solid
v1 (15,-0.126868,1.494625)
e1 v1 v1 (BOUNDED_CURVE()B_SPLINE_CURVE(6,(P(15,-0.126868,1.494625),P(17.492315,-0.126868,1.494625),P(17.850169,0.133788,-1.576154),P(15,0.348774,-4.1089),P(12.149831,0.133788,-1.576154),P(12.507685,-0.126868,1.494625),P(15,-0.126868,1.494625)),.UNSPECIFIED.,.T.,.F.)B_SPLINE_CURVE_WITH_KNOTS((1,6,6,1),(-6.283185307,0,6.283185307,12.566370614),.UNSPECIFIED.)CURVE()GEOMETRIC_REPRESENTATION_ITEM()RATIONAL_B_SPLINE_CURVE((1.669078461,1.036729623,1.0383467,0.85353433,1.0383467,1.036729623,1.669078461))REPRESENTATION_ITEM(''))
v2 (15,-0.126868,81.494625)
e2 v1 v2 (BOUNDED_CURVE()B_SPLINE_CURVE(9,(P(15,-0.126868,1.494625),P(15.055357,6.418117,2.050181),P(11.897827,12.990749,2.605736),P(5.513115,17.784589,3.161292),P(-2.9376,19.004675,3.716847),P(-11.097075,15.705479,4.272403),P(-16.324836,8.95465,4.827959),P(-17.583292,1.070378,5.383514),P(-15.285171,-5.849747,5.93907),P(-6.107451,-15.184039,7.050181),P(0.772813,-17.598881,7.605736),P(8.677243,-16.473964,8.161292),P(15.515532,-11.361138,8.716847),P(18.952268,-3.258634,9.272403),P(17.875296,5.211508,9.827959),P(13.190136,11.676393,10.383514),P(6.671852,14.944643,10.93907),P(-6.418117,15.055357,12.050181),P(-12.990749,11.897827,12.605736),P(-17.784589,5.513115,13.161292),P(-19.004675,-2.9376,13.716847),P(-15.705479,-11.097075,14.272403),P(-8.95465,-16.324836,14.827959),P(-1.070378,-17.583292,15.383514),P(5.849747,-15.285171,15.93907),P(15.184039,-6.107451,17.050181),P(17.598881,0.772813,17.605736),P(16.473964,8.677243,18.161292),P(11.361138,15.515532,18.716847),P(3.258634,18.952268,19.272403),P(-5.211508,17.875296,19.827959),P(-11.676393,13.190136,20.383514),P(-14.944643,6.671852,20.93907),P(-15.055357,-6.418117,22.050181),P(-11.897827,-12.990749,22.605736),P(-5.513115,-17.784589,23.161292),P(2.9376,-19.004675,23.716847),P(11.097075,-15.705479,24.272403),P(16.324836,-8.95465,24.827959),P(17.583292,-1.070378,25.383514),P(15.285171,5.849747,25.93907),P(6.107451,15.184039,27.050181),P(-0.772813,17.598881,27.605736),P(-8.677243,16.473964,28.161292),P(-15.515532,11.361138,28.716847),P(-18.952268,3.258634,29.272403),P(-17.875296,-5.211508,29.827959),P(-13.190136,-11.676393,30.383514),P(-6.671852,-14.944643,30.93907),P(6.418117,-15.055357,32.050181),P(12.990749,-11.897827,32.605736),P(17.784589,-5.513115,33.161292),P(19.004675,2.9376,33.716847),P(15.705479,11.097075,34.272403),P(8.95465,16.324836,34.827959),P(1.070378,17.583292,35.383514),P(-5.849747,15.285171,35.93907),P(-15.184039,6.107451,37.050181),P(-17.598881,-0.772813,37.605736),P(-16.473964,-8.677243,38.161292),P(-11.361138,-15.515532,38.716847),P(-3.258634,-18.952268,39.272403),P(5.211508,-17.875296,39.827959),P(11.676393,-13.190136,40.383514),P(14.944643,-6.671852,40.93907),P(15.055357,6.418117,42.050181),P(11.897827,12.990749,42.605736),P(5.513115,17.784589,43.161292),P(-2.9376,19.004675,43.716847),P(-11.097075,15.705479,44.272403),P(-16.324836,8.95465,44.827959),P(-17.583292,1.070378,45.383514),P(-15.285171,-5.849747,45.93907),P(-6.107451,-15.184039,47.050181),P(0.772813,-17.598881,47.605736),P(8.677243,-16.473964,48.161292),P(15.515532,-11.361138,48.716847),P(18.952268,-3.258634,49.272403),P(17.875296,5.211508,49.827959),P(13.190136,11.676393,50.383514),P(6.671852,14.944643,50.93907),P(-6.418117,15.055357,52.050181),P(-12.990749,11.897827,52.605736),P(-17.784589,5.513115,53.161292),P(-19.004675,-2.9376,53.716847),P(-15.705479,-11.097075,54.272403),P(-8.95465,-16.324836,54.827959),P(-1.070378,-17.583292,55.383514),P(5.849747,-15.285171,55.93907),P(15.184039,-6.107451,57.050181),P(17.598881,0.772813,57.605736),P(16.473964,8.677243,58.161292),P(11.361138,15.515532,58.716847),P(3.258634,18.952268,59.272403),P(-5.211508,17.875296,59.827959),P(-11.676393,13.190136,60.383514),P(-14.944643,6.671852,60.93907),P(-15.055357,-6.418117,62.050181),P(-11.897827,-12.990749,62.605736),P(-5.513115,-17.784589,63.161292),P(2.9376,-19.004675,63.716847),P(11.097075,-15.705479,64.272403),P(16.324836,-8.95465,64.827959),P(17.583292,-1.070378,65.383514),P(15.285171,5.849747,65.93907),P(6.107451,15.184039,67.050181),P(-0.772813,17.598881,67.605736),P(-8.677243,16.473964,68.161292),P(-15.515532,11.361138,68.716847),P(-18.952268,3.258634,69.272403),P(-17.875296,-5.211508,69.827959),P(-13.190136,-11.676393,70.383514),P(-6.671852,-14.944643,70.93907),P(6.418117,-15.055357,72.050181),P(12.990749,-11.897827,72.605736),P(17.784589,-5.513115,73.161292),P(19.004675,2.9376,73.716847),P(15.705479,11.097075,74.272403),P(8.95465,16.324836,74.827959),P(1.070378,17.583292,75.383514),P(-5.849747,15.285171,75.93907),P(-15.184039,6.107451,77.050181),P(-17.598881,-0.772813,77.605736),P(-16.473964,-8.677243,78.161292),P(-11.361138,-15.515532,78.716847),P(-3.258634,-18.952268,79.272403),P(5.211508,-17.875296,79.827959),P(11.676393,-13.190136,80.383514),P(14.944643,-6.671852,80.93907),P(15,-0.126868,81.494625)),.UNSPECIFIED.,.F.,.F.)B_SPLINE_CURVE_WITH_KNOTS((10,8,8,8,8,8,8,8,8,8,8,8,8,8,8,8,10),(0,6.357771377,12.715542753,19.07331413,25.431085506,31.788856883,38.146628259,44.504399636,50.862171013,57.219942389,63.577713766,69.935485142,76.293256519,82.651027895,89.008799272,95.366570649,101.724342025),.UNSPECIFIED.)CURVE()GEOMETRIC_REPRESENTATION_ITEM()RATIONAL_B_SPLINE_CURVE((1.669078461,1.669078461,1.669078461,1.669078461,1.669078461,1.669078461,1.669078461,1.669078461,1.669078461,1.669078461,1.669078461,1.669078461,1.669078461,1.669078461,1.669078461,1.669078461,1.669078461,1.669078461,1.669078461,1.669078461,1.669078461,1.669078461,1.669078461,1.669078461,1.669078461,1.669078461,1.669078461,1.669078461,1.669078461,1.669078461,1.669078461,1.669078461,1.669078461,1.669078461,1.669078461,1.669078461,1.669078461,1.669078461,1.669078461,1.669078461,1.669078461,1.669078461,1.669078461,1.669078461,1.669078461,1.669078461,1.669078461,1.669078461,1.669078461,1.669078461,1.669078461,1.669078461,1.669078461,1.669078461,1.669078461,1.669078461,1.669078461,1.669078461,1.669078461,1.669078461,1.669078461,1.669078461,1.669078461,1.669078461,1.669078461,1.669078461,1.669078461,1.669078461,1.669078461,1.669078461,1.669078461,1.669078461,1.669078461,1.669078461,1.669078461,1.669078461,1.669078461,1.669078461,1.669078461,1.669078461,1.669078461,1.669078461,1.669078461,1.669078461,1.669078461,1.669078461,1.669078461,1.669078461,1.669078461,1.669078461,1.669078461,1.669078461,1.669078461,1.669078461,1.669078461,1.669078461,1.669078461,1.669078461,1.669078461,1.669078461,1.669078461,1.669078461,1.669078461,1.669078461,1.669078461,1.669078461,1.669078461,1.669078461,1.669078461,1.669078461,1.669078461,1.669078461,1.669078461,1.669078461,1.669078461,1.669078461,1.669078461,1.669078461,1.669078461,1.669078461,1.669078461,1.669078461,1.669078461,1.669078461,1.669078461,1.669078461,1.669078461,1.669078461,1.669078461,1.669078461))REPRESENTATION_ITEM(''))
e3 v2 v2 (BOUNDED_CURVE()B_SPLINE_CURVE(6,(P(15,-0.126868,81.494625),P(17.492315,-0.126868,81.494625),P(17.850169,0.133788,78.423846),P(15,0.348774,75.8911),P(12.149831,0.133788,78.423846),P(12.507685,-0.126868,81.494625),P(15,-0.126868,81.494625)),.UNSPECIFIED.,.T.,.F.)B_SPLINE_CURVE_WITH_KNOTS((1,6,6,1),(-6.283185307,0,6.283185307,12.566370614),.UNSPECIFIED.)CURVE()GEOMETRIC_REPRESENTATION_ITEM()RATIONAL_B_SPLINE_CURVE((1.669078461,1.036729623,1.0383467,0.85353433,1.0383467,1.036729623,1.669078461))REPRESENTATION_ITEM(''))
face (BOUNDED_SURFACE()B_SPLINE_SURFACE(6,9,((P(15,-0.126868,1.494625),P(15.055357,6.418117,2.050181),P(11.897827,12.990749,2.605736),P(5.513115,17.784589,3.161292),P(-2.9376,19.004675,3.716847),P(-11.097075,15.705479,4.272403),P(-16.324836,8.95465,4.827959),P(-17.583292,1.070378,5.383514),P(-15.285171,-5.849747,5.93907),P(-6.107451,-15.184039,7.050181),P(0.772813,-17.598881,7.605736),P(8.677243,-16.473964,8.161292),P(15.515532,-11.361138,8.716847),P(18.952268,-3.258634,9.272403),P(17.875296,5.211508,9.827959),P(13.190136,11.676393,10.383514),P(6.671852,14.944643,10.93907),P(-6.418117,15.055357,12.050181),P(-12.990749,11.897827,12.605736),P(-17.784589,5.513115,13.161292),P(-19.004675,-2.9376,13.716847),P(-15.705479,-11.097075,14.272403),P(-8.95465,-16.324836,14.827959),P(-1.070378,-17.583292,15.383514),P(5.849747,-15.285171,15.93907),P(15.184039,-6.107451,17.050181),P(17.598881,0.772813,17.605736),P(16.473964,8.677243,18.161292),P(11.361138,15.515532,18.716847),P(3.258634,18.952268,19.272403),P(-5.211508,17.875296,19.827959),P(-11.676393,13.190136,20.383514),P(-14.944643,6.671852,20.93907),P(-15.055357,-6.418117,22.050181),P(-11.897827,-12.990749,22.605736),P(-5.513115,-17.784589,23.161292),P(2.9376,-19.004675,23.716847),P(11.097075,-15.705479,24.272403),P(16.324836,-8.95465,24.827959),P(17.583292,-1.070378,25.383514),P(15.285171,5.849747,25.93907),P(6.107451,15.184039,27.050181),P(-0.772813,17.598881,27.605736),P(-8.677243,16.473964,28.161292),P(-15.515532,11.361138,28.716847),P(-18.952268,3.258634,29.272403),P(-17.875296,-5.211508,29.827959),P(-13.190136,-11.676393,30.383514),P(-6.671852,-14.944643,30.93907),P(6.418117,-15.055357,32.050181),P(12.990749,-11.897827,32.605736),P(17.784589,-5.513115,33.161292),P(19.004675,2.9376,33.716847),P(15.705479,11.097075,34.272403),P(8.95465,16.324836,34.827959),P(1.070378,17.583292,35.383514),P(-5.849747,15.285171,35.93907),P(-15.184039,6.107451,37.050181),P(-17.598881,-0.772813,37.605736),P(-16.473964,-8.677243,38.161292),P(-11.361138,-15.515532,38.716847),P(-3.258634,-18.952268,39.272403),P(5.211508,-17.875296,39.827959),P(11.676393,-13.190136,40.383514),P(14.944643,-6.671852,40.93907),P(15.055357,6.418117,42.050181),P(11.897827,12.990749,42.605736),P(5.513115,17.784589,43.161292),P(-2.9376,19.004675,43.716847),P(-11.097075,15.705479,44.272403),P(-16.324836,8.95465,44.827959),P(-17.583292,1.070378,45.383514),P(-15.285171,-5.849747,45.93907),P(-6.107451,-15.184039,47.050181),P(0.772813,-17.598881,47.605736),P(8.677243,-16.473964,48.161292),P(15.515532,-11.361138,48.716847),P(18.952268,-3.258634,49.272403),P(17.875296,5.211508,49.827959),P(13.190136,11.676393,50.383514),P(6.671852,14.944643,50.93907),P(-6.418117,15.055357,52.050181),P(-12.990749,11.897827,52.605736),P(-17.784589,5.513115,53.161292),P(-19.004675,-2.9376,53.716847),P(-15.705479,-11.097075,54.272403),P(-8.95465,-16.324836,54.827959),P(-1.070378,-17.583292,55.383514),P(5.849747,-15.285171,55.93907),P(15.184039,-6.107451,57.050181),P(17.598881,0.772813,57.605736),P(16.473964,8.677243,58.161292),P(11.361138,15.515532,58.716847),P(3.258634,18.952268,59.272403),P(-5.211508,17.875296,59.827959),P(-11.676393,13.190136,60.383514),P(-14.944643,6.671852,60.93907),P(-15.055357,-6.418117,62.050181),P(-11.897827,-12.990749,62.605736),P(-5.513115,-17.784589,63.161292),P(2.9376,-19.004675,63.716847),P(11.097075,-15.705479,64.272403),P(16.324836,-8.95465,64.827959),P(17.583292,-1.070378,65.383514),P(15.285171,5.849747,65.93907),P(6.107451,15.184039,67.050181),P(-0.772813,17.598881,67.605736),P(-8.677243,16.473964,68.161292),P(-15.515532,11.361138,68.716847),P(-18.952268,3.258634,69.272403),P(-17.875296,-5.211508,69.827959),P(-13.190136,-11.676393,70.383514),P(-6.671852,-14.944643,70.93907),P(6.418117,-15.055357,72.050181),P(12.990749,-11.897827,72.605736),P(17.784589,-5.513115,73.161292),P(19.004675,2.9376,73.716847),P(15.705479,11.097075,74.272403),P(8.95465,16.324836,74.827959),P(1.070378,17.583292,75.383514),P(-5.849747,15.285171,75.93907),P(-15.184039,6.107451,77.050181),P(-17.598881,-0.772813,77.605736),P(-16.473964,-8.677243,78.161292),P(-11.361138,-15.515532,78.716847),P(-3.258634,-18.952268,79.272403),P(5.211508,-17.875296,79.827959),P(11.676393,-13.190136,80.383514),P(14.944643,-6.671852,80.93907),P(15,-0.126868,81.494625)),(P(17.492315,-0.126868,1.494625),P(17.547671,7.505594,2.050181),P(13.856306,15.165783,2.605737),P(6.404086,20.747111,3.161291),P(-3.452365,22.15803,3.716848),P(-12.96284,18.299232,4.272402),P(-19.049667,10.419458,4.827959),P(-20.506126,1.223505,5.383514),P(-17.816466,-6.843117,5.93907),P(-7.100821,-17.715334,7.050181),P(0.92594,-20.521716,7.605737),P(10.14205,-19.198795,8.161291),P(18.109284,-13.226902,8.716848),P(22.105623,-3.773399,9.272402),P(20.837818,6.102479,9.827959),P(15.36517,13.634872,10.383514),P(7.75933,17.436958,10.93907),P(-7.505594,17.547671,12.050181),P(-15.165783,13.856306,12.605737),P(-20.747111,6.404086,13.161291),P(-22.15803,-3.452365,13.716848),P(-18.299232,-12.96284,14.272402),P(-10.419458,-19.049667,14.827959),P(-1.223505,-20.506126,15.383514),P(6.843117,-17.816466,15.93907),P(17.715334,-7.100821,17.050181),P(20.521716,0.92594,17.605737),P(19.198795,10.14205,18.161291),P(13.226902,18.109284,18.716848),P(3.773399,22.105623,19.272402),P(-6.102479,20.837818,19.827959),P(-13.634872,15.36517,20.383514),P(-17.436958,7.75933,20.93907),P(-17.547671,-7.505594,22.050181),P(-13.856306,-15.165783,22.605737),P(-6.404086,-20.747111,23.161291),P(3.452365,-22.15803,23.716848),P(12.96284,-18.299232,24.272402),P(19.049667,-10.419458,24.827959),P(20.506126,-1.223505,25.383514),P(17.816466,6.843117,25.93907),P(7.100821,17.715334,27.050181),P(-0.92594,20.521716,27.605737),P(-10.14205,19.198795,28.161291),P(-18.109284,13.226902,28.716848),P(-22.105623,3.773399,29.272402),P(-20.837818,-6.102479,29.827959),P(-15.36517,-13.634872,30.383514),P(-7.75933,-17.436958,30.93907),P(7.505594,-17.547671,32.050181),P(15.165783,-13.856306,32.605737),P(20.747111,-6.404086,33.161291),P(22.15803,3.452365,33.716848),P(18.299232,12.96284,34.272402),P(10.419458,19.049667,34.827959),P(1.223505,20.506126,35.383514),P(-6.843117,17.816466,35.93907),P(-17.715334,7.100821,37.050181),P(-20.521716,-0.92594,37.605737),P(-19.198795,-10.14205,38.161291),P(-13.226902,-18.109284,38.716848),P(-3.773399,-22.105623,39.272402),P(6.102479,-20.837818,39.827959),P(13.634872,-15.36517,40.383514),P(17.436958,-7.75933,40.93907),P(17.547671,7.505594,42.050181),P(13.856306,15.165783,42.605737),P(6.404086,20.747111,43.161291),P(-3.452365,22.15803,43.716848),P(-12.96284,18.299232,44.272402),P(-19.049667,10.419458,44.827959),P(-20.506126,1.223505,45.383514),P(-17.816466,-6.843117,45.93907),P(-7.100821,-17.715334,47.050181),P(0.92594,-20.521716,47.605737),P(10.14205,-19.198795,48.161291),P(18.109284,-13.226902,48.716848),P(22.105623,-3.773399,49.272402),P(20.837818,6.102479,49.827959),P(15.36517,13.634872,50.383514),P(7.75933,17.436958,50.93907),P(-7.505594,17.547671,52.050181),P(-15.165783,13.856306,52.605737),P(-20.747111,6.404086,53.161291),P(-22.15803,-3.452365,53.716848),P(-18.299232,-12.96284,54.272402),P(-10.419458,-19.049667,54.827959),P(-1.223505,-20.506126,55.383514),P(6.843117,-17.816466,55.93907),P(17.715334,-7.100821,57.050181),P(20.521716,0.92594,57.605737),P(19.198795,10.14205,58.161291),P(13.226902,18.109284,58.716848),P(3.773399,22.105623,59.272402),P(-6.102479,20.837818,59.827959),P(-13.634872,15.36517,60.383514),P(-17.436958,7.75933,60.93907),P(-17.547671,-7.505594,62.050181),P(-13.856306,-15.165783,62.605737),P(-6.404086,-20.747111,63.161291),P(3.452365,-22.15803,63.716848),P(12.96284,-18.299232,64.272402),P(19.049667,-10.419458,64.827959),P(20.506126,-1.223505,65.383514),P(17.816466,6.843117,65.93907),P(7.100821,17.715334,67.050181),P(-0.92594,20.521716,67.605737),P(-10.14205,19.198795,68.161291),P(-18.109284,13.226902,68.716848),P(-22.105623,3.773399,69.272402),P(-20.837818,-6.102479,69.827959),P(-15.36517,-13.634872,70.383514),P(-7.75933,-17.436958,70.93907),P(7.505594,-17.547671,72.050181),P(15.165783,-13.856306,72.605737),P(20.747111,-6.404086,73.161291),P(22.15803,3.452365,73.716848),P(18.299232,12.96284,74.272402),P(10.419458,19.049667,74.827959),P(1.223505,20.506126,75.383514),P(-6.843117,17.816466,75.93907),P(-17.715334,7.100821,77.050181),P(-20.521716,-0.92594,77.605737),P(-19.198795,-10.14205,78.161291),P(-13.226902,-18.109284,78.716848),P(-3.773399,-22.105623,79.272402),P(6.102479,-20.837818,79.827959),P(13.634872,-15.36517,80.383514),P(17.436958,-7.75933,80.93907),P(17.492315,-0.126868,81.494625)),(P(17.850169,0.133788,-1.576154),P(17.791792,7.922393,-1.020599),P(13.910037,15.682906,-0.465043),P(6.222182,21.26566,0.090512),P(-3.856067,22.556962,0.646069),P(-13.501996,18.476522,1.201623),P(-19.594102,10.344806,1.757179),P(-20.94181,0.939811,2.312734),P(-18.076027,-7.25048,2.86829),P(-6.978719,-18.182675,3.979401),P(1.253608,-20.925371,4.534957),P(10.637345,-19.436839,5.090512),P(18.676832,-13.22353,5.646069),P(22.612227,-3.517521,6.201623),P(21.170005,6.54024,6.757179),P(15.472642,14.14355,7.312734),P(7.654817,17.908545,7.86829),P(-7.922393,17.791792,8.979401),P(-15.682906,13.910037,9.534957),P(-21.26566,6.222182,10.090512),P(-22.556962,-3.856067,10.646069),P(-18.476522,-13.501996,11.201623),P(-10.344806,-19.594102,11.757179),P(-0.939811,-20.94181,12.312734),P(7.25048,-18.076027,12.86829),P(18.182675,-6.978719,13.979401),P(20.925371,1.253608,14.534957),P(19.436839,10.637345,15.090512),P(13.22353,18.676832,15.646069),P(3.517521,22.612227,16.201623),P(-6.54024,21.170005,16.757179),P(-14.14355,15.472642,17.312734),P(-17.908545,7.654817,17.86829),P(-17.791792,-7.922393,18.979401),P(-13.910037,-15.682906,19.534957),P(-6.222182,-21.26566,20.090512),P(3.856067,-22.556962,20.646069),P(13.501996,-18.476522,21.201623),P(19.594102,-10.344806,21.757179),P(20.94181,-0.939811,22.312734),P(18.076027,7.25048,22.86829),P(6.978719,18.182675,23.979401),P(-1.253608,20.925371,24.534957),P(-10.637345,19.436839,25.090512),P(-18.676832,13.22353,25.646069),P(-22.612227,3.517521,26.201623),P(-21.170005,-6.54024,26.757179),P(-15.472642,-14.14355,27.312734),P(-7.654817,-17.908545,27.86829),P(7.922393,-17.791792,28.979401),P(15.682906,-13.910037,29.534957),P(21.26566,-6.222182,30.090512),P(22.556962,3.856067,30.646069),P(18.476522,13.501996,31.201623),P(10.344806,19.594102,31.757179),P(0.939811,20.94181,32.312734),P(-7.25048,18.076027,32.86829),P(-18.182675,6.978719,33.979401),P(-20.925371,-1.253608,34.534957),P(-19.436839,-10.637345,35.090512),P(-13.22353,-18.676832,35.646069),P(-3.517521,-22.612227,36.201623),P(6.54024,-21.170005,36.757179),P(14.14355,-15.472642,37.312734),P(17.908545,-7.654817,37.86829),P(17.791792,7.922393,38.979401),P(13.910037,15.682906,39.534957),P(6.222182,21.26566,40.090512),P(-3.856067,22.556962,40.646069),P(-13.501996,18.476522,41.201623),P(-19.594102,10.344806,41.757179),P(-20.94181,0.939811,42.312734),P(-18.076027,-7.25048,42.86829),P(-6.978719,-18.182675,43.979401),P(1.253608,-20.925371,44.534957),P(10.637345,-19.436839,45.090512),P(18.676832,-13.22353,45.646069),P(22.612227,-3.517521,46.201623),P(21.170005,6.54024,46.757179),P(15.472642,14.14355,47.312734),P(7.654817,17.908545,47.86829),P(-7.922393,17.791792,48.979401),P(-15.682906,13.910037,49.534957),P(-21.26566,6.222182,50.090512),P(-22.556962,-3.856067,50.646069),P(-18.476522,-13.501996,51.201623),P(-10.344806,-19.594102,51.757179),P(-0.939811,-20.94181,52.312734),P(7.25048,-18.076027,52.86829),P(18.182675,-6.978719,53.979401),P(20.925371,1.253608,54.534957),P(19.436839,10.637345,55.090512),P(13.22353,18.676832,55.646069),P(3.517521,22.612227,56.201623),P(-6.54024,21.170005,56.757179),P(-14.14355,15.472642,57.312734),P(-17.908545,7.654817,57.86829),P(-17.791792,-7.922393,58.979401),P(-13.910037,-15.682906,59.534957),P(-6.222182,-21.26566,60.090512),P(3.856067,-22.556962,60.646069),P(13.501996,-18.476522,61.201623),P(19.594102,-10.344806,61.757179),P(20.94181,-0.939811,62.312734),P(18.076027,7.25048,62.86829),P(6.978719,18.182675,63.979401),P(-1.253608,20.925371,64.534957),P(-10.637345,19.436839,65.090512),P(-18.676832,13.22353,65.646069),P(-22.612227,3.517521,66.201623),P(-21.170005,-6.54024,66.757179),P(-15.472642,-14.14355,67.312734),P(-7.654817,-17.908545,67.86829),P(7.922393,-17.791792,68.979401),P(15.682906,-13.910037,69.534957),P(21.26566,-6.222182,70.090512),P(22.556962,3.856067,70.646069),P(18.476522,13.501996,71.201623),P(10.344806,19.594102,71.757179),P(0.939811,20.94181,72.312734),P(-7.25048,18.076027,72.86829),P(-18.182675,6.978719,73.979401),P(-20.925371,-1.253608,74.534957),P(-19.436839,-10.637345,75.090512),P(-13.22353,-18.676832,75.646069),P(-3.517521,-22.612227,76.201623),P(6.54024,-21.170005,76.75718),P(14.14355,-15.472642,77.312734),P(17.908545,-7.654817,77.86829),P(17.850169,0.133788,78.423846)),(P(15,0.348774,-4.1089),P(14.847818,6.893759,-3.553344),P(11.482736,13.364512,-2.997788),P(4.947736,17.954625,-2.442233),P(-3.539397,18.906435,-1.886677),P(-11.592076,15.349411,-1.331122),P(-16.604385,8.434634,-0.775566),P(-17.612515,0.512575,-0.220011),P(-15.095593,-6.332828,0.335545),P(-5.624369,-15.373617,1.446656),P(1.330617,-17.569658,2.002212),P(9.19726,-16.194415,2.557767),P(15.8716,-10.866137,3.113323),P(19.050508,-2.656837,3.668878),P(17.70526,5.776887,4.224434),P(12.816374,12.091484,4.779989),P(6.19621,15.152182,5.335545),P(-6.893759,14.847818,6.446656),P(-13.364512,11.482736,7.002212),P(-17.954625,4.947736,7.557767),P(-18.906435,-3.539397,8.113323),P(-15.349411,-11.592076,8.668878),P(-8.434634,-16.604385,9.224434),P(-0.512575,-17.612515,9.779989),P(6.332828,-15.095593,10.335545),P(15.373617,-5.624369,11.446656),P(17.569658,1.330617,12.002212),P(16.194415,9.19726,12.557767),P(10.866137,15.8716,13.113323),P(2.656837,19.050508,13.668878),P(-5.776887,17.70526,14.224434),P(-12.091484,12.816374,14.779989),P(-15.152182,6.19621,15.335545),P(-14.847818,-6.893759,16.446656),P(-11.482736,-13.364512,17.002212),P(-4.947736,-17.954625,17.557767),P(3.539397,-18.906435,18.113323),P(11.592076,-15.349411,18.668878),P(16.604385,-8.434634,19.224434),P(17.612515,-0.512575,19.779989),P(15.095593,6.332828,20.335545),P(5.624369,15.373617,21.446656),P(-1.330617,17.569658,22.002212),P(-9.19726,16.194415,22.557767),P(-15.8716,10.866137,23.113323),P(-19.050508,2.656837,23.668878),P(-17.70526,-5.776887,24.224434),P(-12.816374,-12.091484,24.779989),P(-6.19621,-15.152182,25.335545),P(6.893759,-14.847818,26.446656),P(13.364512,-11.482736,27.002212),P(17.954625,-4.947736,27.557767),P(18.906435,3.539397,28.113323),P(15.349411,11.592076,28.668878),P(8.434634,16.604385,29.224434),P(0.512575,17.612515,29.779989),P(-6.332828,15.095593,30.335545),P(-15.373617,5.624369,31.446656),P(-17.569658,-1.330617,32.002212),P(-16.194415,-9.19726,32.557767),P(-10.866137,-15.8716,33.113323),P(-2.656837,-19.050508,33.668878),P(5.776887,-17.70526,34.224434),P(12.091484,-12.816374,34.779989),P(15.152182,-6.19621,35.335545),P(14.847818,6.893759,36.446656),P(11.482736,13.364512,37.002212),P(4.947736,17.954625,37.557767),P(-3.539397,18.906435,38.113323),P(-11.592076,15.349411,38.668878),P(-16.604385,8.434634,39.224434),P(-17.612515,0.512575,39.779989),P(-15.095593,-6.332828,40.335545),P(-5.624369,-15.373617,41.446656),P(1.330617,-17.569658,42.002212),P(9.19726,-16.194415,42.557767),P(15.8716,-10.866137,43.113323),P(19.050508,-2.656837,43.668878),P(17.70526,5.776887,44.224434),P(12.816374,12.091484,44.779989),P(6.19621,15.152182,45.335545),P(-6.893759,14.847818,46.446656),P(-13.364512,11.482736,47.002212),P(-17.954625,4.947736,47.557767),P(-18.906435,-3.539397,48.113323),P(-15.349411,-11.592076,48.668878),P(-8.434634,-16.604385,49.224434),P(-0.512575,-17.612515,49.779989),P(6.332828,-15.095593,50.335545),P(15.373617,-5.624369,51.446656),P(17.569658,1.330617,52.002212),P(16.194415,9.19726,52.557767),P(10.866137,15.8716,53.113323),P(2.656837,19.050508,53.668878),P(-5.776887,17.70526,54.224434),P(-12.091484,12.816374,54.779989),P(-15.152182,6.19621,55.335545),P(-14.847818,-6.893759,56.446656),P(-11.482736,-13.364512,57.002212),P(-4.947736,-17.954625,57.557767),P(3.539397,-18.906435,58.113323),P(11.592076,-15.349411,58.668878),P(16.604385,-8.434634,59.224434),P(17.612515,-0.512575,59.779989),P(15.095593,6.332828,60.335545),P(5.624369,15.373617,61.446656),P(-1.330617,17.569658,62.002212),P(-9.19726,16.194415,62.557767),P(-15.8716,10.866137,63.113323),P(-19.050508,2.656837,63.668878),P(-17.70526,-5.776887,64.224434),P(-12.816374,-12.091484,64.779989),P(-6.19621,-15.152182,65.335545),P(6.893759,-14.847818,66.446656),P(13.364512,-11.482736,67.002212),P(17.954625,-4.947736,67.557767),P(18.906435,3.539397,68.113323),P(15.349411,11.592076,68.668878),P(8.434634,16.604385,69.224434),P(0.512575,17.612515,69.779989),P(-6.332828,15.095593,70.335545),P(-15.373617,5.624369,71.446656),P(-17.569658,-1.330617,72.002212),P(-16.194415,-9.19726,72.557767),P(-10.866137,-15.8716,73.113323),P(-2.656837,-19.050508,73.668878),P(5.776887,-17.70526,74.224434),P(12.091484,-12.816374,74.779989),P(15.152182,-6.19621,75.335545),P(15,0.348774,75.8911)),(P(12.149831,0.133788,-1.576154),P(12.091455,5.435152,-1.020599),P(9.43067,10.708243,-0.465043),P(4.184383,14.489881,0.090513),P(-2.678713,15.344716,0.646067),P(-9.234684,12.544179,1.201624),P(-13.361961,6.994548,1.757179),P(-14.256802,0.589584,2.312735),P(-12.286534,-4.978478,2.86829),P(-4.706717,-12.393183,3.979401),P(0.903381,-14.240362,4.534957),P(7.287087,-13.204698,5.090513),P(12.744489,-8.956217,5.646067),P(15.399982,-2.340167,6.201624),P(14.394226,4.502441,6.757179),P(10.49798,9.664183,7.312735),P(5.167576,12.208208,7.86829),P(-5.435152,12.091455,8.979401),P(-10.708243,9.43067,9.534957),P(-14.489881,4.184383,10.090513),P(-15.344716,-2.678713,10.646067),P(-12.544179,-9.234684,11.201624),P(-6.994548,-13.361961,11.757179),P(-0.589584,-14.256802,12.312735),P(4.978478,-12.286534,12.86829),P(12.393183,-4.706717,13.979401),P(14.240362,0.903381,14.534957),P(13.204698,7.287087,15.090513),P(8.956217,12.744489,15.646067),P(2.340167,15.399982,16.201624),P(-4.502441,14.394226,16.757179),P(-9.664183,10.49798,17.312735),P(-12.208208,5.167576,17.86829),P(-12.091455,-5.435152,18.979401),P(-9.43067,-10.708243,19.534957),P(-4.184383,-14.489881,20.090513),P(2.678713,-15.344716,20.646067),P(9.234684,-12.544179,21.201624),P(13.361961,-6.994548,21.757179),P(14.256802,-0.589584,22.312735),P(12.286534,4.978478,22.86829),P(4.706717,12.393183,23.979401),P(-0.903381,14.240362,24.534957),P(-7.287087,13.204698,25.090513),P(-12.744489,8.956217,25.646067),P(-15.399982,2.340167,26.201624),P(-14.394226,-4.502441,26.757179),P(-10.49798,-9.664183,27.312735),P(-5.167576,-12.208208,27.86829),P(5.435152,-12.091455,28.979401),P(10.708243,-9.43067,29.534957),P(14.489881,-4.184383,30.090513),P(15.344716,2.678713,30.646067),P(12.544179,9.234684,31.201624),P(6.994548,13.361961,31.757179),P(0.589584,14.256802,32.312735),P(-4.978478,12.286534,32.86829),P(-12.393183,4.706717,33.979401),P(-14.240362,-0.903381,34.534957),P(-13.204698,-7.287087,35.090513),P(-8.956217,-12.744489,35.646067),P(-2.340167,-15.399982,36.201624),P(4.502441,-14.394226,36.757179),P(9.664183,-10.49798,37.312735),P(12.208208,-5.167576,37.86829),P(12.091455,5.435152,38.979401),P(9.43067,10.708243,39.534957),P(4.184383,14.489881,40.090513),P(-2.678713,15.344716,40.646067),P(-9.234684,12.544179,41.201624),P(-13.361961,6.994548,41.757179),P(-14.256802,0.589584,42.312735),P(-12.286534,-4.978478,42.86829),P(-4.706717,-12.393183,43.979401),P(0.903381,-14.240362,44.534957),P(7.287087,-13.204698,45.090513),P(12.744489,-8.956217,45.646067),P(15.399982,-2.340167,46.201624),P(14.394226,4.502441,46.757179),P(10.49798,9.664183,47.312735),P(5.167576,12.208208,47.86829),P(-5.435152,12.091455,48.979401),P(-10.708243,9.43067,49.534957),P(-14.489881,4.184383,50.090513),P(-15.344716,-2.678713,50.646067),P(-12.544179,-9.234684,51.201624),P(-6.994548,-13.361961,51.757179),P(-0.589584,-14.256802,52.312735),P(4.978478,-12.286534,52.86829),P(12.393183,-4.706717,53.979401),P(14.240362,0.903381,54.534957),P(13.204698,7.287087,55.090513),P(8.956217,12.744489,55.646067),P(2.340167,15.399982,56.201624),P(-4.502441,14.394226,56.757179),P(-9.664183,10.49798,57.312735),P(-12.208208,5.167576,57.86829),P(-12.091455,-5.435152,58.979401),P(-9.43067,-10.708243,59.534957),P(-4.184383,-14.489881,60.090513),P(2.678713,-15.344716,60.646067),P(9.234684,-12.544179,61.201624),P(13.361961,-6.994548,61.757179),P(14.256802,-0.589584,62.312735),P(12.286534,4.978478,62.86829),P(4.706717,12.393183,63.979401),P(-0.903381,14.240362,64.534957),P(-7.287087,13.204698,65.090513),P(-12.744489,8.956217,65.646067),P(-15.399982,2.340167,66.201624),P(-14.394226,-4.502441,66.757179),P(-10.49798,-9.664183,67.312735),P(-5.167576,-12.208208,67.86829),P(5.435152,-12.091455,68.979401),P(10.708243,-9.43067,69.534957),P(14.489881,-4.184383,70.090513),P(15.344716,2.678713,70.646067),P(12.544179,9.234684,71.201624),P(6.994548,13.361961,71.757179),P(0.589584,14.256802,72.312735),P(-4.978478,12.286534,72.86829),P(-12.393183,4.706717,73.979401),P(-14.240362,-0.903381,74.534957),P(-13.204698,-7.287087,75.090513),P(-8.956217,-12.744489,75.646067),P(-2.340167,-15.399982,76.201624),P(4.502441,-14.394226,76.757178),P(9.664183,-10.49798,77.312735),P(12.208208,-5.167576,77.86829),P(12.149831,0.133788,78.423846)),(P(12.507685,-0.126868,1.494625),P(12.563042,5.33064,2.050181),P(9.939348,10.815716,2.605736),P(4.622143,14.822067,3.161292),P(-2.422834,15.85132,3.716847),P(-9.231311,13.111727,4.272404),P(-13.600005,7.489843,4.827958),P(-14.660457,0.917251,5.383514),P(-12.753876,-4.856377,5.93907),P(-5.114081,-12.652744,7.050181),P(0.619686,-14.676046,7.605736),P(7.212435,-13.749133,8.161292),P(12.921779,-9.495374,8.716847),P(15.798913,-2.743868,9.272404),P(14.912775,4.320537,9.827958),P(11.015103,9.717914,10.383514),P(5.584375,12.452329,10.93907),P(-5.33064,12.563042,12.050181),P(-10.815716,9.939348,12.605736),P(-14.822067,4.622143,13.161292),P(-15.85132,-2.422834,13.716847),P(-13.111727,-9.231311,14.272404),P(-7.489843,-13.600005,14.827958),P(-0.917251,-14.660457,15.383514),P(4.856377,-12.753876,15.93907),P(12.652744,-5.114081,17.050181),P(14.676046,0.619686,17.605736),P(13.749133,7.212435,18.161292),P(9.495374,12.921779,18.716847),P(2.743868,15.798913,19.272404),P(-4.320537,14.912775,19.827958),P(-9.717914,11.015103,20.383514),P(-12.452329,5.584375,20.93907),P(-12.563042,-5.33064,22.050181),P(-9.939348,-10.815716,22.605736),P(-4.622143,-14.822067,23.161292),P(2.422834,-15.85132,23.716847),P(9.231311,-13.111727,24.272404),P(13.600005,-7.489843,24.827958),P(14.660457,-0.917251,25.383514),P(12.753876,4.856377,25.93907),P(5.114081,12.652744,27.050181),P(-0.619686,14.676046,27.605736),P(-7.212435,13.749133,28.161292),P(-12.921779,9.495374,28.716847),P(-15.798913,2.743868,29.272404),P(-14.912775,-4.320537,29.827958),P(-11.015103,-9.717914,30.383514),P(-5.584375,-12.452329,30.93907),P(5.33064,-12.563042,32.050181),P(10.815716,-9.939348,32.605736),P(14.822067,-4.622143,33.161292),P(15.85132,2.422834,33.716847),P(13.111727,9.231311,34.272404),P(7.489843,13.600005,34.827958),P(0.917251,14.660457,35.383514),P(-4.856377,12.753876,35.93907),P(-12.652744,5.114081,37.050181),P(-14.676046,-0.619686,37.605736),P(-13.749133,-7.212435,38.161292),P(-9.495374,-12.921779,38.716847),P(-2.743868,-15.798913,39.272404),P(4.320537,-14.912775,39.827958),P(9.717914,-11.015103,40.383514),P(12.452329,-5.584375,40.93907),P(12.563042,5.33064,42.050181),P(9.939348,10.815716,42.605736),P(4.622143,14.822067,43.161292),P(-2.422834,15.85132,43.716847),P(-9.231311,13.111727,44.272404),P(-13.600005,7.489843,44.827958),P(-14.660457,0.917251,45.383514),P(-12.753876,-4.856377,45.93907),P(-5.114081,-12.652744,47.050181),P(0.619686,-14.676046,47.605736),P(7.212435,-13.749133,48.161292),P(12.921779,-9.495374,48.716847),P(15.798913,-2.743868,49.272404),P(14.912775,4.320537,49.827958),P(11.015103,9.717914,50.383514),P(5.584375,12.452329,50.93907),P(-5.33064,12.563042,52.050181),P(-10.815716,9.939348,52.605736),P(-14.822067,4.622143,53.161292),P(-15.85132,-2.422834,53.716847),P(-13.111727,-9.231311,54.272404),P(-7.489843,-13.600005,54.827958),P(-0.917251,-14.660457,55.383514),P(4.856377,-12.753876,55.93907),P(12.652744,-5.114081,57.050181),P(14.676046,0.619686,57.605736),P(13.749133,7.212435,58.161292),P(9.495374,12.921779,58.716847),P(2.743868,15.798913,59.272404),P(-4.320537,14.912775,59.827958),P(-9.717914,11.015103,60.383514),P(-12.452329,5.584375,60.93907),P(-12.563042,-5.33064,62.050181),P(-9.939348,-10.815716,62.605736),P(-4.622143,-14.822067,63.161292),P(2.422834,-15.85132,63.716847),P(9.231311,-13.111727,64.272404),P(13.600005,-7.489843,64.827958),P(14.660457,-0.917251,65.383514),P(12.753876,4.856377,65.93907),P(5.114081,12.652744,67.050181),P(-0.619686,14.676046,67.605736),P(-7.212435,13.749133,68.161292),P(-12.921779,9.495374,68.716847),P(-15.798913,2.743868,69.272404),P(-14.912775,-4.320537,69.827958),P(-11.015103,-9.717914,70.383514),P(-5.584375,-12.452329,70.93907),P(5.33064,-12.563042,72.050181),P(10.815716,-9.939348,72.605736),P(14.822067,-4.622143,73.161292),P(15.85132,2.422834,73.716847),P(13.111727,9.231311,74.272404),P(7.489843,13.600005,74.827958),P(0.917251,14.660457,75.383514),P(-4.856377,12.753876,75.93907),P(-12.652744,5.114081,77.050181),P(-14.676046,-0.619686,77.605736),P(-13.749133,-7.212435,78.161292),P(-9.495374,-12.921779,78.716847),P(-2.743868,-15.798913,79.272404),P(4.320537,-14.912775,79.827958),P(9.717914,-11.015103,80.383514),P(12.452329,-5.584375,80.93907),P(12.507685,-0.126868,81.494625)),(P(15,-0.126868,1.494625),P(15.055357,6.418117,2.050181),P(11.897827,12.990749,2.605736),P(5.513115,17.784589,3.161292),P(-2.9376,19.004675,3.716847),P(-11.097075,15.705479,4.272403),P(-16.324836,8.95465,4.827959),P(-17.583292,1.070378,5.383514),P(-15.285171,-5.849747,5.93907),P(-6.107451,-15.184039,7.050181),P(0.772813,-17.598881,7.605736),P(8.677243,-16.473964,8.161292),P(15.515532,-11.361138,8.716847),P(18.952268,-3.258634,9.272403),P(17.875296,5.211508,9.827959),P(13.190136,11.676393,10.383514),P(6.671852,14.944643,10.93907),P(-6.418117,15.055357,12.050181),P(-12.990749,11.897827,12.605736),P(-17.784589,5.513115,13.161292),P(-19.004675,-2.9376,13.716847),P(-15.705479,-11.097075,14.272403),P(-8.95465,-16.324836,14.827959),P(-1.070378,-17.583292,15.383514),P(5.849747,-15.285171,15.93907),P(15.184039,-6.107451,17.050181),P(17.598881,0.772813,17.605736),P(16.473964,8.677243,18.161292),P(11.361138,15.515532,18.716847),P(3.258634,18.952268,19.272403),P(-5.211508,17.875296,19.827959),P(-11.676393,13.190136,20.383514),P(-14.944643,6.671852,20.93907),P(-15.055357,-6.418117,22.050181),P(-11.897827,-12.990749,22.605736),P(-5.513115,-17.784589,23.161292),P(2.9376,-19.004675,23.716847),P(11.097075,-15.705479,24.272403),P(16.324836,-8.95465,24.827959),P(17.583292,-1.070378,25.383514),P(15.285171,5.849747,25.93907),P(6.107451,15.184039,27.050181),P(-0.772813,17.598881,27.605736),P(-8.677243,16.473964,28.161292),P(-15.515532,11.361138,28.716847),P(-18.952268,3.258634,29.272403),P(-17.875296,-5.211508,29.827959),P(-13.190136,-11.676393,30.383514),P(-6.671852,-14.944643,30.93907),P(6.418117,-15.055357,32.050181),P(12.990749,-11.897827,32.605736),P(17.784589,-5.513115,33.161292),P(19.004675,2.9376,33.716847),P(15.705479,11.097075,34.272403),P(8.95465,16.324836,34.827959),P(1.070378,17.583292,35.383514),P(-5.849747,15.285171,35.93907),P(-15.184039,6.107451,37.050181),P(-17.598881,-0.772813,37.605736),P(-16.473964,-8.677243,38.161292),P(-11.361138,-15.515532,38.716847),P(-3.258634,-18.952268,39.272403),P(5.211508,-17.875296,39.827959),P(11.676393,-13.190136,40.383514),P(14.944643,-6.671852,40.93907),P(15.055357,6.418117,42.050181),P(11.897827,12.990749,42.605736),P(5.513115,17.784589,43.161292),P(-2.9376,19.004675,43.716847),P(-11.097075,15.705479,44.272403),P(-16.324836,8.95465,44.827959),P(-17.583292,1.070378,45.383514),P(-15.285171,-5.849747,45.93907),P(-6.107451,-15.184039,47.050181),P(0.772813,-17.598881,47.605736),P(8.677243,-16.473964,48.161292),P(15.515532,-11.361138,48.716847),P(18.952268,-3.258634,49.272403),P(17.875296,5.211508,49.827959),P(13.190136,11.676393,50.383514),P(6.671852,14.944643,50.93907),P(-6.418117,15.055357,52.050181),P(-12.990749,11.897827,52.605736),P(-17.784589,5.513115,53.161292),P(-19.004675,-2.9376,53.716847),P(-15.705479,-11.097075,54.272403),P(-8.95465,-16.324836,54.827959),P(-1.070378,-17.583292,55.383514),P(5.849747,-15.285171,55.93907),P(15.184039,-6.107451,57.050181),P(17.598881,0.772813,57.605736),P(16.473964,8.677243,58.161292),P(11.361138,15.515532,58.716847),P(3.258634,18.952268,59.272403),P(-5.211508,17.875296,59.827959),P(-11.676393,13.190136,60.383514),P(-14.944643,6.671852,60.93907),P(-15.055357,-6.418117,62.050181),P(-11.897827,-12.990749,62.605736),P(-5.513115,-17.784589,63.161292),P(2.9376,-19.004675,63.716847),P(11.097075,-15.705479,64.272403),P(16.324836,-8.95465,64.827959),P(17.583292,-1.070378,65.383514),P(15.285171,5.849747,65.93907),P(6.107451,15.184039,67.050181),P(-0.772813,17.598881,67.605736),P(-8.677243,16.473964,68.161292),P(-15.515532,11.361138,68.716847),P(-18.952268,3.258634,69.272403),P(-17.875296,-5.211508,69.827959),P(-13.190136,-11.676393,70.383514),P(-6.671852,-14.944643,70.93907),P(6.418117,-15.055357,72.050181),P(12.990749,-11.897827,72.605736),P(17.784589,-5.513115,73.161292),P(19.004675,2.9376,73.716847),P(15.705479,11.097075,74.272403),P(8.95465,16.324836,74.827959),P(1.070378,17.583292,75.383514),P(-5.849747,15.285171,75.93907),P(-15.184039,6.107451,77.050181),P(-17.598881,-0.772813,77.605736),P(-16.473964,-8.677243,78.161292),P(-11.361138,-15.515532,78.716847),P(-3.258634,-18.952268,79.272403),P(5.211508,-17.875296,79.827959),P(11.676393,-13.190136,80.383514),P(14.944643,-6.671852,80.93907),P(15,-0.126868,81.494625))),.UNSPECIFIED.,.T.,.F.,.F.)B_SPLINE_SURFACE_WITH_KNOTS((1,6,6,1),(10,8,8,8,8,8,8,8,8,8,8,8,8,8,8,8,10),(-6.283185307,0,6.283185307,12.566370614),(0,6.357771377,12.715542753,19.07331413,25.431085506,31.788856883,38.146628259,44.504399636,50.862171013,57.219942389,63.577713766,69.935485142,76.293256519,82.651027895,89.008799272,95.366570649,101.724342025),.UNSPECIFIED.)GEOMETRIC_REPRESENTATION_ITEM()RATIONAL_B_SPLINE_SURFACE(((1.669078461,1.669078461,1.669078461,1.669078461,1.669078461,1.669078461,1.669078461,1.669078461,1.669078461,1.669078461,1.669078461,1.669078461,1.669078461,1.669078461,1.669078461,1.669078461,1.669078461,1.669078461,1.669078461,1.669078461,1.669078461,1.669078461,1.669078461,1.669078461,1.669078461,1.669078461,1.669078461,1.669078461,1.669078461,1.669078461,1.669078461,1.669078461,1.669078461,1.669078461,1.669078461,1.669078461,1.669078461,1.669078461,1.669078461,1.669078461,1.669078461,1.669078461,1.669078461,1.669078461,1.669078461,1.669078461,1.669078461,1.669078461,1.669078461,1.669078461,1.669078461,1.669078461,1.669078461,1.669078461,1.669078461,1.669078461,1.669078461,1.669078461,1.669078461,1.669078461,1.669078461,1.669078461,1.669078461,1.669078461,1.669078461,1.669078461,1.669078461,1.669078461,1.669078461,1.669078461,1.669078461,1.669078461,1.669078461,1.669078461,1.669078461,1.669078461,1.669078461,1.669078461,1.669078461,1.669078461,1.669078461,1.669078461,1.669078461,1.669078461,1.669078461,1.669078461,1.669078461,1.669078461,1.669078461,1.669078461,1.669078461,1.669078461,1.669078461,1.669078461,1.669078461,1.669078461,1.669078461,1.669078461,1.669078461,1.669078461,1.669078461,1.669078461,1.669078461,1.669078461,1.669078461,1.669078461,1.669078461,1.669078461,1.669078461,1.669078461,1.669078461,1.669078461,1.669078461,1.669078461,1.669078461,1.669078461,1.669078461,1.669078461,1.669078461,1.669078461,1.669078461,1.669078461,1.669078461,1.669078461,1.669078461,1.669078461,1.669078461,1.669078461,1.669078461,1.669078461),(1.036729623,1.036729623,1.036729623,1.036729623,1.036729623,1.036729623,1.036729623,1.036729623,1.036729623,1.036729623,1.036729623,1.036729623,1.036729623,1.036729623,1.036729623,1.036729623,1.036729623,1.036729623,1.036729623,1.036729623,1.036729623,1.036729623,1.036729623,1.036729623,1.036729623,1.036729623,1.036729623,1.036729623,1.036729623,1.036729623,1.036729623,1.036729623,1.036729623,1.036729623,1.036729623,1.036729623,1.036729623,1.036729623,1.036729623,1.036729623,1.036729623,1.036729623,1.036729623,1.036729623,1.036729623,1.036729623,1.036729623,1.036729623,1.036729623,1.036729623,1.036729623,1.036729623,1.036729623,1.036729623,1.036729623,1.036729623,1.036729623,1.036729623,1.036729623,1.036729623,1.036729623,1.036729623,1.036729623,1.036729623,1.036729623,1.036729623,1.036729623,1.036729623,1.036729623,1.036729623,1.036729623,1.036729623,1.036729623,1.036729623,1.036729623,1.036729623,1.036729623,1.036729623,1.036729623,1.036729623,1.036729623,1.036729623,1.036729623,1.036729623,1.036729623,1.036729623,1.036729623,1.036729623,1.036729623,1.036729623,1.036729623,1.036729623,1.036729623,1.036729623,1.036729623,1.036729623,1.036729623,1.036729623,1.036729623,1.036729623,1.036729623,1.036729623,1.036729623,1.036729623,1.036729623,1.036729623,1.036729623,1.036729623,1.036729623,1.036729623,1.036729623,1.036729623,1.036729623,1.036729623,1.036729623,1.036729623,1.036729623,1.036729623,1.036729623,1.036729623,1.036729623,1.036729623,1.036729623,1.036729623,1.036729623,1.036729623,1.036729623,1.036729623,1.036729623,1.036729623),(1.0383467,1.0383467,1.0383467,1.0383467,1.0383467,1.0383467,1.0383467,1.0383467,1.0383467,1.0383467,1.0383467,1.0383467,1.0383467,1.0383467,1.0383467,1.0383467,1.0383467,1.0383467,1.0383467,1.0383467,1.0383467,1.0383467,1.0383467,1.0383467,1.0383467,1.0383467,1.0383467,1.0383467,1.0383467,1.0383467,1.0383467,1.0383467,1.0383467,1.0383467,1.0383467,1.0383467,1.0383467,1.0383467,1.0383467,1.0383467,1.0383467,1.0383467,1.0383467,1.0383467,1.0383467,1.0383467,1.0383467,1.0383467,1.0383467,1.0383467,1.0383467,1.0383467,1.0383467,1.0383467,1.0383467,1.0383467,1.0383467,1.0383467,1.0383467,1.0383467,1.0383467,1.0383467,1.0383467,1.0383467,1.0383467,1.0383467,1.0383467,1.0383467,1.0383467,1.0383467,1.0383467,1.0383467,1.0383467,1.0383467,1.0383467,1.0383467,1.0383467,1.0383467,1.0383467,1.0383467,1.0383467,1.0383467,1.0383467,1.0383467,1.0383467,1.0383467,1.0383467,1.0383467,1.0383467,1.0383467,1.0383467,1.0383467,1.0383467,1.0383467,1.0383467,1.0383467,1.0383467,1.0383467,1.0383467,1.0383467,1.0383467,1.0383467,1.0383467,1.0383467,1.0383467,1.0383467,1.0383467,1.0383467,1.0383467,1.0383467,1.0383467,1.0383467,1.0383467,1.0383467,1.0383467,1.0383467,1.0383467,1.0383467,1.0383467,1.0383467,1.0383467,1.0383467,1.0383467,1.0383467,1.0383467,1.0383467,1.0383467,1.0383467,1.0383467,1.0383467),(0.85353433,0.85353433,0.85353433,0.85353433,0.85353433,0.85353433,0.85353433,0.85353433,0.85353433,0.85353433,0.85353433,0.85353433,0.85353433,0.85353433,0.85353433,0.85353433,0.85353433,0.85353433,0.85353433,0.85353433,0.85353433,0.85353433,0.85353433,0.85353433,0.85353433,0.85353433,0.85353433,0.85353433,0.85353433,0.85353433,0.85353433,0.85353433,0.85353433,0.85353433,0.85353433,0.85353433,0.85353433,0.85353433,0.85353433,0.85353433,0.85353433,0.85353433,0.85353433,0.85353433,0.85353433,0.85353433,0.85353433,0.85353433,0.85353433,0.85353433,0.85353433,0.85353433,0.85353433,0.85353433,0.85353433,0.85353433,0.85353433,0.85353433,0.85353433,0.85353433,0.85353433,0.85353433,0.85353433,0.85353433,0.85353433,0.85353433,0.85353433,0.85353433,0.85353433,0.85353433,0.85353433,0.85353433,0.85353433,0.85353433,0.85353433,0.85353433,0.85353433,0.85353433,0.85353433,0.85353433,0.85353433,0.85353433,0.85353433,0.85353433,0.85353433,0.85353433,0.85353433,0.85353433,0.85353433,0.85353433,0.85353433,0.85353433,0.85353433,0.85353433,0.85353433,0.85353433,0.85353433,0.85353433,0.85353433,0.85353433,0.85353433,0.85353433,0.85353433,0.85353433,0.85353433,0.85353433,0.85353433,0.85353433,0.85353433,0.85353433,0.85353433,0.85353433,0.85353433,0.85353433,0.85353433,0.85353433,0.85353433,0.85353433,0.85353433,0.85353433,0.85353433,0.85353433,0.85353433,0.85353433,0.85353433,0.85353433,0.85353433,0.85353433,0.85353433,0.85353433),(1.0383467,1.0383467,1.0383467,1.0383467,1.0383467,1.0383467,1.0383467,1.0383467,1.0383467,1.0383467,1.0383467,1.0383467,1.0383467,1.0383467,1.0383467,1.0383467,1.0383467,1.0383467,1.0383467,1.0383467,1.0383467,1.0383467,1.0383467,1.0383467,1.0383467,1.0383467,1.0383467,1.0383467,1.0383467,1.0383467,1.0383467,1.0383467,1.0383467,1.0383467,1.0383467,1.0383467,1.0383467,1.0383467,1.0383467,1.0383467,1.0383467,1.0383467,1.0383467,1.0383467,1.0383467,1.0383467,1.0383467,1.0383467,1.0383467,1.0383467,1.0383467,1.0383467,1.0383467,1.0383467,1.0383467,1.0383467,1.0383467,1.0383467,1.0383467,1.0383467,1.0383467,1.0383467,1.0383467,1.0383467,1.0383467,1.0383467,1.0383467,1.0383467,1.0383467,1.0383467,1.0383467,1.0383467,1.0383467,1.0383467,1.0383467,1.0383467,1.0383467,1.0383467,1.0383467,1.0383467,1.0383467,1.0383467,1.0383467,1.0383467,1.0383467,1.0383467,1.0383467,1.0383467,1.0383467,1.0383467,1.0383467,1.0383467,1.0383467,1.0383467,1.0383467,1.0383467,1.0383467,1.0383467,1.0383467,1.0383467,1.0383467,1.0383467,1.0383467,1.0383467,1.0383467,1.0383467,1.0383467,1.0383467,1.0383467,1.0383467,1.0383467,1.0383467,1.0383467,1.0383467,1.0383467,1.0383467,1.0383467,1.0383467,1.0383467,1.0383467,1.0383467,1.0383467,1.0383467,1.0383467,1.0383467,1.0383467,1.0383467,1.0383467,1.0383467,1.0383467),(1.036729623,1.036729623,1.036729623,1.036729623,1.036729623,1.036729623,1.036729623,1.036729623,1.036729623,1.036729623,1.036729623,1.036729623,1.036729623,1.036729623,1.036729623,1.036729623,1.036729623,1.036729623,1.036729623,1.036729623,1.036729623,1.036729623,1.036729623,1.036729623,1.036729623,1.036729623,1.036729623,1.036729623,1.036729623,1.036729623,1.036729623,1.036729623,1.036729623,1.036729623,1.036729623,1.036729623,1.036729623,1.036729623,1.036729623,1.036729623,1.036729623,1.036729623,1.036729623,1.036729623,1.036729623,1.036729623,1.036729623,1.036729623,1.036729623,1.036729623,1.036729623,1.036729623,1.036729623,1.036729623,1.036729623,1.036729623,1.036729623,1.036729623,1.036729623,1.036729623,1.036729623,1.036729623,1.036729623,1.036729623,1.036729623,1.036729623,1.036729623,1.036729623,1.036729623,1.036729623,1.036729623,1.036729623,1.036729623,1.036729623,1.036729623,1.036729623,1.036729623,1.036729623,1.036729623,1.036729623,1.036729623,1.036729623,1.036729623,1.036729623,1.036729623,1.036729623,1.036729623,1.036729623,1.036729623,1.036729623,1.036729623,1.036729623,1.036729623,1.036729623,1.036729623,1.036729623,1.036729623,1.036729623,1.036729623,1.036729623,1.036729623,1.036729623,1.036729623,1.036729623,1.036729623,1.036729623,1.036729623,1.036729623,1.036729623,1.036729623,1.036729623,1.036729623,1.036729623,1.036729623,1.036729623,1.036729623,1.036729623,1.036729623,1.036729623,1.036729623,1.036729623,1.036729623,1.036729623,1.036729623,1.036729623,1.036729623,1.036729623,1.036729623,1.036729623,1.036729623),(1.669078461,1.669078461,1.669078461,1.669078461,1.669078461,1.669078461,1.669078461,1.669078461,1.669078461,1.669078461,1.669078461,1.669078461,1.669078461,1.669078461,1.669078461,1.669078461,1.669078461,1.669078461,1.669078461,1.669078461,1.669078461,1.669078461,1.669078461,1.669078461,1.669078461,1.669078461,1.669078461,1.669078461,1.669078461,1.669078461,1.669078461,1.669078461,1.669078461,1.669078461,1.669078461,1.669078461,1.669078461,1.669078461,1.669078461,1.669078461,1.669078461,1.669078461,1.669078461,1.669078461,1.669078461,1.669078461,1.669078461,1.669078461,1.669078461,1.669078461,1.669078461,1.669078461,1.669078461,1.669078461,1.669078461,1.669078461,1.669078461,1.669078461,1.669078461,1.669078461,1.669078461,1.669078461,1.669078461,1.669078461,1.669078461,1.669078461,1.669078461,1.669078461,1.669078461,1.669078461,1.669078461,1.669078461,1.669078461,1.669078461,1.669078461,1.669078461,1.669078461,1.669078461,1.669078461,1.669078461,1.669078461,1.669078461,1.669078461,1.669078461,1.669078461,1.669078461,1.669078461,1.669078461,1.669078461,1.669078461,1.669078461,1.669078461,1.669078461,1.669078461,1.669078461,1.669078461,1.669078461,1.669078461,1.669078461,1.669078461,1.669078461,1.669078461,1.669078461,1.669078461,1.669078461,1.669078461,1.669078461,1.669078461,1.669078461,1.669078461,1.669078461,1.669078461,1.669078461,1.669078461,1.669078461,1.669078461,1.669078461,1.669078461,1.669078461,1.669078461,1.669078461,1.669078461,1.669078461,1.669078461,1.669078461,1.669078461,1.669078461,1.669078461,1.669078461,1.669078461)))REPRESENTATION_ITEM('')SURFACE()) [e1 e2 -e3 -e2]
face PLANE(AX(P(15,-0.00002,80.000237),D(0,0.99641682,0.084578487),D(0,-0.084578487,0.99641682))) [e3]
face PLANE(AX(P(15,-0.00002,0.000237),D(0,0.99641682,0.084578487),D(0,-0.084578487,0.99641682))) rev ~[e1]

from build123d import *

# Parameters (mm, degrees)
SWEEP_1_PITCH     = 8
SWEEP_1_HEIGHT    = 80
SWEEP_1_RADIUS    = 15
SWEEP_1_PROFILE_R = 1.5


with BuildPart() as part:
    # 扫描1: sweep along a helix
    with BuildLine() as sweep_1_path:
        Helix(SWEEP_1_PITCH, SWEEP_1_HEIGHT, SWEEP_1_RADIUS, center=(0, 0, 0), direction=(0, 0, 1))
    # 扫描1 profile (on start of the path) → 扫描1 (sweep)
    with BuildSketch(Plane(origin=(15, 0, 0), x_dir=(0, -0.08457848656919516, 0.9964168202161505), z_dir=(-1.6370979944061053e-13, 0.9964168202161505, 0.08457848656919516))):
        Circle(SWEEP_1_PROFILE_R)
    sweep(path=sweep_1_path.line, is_frenet=True)


solid = part.part
